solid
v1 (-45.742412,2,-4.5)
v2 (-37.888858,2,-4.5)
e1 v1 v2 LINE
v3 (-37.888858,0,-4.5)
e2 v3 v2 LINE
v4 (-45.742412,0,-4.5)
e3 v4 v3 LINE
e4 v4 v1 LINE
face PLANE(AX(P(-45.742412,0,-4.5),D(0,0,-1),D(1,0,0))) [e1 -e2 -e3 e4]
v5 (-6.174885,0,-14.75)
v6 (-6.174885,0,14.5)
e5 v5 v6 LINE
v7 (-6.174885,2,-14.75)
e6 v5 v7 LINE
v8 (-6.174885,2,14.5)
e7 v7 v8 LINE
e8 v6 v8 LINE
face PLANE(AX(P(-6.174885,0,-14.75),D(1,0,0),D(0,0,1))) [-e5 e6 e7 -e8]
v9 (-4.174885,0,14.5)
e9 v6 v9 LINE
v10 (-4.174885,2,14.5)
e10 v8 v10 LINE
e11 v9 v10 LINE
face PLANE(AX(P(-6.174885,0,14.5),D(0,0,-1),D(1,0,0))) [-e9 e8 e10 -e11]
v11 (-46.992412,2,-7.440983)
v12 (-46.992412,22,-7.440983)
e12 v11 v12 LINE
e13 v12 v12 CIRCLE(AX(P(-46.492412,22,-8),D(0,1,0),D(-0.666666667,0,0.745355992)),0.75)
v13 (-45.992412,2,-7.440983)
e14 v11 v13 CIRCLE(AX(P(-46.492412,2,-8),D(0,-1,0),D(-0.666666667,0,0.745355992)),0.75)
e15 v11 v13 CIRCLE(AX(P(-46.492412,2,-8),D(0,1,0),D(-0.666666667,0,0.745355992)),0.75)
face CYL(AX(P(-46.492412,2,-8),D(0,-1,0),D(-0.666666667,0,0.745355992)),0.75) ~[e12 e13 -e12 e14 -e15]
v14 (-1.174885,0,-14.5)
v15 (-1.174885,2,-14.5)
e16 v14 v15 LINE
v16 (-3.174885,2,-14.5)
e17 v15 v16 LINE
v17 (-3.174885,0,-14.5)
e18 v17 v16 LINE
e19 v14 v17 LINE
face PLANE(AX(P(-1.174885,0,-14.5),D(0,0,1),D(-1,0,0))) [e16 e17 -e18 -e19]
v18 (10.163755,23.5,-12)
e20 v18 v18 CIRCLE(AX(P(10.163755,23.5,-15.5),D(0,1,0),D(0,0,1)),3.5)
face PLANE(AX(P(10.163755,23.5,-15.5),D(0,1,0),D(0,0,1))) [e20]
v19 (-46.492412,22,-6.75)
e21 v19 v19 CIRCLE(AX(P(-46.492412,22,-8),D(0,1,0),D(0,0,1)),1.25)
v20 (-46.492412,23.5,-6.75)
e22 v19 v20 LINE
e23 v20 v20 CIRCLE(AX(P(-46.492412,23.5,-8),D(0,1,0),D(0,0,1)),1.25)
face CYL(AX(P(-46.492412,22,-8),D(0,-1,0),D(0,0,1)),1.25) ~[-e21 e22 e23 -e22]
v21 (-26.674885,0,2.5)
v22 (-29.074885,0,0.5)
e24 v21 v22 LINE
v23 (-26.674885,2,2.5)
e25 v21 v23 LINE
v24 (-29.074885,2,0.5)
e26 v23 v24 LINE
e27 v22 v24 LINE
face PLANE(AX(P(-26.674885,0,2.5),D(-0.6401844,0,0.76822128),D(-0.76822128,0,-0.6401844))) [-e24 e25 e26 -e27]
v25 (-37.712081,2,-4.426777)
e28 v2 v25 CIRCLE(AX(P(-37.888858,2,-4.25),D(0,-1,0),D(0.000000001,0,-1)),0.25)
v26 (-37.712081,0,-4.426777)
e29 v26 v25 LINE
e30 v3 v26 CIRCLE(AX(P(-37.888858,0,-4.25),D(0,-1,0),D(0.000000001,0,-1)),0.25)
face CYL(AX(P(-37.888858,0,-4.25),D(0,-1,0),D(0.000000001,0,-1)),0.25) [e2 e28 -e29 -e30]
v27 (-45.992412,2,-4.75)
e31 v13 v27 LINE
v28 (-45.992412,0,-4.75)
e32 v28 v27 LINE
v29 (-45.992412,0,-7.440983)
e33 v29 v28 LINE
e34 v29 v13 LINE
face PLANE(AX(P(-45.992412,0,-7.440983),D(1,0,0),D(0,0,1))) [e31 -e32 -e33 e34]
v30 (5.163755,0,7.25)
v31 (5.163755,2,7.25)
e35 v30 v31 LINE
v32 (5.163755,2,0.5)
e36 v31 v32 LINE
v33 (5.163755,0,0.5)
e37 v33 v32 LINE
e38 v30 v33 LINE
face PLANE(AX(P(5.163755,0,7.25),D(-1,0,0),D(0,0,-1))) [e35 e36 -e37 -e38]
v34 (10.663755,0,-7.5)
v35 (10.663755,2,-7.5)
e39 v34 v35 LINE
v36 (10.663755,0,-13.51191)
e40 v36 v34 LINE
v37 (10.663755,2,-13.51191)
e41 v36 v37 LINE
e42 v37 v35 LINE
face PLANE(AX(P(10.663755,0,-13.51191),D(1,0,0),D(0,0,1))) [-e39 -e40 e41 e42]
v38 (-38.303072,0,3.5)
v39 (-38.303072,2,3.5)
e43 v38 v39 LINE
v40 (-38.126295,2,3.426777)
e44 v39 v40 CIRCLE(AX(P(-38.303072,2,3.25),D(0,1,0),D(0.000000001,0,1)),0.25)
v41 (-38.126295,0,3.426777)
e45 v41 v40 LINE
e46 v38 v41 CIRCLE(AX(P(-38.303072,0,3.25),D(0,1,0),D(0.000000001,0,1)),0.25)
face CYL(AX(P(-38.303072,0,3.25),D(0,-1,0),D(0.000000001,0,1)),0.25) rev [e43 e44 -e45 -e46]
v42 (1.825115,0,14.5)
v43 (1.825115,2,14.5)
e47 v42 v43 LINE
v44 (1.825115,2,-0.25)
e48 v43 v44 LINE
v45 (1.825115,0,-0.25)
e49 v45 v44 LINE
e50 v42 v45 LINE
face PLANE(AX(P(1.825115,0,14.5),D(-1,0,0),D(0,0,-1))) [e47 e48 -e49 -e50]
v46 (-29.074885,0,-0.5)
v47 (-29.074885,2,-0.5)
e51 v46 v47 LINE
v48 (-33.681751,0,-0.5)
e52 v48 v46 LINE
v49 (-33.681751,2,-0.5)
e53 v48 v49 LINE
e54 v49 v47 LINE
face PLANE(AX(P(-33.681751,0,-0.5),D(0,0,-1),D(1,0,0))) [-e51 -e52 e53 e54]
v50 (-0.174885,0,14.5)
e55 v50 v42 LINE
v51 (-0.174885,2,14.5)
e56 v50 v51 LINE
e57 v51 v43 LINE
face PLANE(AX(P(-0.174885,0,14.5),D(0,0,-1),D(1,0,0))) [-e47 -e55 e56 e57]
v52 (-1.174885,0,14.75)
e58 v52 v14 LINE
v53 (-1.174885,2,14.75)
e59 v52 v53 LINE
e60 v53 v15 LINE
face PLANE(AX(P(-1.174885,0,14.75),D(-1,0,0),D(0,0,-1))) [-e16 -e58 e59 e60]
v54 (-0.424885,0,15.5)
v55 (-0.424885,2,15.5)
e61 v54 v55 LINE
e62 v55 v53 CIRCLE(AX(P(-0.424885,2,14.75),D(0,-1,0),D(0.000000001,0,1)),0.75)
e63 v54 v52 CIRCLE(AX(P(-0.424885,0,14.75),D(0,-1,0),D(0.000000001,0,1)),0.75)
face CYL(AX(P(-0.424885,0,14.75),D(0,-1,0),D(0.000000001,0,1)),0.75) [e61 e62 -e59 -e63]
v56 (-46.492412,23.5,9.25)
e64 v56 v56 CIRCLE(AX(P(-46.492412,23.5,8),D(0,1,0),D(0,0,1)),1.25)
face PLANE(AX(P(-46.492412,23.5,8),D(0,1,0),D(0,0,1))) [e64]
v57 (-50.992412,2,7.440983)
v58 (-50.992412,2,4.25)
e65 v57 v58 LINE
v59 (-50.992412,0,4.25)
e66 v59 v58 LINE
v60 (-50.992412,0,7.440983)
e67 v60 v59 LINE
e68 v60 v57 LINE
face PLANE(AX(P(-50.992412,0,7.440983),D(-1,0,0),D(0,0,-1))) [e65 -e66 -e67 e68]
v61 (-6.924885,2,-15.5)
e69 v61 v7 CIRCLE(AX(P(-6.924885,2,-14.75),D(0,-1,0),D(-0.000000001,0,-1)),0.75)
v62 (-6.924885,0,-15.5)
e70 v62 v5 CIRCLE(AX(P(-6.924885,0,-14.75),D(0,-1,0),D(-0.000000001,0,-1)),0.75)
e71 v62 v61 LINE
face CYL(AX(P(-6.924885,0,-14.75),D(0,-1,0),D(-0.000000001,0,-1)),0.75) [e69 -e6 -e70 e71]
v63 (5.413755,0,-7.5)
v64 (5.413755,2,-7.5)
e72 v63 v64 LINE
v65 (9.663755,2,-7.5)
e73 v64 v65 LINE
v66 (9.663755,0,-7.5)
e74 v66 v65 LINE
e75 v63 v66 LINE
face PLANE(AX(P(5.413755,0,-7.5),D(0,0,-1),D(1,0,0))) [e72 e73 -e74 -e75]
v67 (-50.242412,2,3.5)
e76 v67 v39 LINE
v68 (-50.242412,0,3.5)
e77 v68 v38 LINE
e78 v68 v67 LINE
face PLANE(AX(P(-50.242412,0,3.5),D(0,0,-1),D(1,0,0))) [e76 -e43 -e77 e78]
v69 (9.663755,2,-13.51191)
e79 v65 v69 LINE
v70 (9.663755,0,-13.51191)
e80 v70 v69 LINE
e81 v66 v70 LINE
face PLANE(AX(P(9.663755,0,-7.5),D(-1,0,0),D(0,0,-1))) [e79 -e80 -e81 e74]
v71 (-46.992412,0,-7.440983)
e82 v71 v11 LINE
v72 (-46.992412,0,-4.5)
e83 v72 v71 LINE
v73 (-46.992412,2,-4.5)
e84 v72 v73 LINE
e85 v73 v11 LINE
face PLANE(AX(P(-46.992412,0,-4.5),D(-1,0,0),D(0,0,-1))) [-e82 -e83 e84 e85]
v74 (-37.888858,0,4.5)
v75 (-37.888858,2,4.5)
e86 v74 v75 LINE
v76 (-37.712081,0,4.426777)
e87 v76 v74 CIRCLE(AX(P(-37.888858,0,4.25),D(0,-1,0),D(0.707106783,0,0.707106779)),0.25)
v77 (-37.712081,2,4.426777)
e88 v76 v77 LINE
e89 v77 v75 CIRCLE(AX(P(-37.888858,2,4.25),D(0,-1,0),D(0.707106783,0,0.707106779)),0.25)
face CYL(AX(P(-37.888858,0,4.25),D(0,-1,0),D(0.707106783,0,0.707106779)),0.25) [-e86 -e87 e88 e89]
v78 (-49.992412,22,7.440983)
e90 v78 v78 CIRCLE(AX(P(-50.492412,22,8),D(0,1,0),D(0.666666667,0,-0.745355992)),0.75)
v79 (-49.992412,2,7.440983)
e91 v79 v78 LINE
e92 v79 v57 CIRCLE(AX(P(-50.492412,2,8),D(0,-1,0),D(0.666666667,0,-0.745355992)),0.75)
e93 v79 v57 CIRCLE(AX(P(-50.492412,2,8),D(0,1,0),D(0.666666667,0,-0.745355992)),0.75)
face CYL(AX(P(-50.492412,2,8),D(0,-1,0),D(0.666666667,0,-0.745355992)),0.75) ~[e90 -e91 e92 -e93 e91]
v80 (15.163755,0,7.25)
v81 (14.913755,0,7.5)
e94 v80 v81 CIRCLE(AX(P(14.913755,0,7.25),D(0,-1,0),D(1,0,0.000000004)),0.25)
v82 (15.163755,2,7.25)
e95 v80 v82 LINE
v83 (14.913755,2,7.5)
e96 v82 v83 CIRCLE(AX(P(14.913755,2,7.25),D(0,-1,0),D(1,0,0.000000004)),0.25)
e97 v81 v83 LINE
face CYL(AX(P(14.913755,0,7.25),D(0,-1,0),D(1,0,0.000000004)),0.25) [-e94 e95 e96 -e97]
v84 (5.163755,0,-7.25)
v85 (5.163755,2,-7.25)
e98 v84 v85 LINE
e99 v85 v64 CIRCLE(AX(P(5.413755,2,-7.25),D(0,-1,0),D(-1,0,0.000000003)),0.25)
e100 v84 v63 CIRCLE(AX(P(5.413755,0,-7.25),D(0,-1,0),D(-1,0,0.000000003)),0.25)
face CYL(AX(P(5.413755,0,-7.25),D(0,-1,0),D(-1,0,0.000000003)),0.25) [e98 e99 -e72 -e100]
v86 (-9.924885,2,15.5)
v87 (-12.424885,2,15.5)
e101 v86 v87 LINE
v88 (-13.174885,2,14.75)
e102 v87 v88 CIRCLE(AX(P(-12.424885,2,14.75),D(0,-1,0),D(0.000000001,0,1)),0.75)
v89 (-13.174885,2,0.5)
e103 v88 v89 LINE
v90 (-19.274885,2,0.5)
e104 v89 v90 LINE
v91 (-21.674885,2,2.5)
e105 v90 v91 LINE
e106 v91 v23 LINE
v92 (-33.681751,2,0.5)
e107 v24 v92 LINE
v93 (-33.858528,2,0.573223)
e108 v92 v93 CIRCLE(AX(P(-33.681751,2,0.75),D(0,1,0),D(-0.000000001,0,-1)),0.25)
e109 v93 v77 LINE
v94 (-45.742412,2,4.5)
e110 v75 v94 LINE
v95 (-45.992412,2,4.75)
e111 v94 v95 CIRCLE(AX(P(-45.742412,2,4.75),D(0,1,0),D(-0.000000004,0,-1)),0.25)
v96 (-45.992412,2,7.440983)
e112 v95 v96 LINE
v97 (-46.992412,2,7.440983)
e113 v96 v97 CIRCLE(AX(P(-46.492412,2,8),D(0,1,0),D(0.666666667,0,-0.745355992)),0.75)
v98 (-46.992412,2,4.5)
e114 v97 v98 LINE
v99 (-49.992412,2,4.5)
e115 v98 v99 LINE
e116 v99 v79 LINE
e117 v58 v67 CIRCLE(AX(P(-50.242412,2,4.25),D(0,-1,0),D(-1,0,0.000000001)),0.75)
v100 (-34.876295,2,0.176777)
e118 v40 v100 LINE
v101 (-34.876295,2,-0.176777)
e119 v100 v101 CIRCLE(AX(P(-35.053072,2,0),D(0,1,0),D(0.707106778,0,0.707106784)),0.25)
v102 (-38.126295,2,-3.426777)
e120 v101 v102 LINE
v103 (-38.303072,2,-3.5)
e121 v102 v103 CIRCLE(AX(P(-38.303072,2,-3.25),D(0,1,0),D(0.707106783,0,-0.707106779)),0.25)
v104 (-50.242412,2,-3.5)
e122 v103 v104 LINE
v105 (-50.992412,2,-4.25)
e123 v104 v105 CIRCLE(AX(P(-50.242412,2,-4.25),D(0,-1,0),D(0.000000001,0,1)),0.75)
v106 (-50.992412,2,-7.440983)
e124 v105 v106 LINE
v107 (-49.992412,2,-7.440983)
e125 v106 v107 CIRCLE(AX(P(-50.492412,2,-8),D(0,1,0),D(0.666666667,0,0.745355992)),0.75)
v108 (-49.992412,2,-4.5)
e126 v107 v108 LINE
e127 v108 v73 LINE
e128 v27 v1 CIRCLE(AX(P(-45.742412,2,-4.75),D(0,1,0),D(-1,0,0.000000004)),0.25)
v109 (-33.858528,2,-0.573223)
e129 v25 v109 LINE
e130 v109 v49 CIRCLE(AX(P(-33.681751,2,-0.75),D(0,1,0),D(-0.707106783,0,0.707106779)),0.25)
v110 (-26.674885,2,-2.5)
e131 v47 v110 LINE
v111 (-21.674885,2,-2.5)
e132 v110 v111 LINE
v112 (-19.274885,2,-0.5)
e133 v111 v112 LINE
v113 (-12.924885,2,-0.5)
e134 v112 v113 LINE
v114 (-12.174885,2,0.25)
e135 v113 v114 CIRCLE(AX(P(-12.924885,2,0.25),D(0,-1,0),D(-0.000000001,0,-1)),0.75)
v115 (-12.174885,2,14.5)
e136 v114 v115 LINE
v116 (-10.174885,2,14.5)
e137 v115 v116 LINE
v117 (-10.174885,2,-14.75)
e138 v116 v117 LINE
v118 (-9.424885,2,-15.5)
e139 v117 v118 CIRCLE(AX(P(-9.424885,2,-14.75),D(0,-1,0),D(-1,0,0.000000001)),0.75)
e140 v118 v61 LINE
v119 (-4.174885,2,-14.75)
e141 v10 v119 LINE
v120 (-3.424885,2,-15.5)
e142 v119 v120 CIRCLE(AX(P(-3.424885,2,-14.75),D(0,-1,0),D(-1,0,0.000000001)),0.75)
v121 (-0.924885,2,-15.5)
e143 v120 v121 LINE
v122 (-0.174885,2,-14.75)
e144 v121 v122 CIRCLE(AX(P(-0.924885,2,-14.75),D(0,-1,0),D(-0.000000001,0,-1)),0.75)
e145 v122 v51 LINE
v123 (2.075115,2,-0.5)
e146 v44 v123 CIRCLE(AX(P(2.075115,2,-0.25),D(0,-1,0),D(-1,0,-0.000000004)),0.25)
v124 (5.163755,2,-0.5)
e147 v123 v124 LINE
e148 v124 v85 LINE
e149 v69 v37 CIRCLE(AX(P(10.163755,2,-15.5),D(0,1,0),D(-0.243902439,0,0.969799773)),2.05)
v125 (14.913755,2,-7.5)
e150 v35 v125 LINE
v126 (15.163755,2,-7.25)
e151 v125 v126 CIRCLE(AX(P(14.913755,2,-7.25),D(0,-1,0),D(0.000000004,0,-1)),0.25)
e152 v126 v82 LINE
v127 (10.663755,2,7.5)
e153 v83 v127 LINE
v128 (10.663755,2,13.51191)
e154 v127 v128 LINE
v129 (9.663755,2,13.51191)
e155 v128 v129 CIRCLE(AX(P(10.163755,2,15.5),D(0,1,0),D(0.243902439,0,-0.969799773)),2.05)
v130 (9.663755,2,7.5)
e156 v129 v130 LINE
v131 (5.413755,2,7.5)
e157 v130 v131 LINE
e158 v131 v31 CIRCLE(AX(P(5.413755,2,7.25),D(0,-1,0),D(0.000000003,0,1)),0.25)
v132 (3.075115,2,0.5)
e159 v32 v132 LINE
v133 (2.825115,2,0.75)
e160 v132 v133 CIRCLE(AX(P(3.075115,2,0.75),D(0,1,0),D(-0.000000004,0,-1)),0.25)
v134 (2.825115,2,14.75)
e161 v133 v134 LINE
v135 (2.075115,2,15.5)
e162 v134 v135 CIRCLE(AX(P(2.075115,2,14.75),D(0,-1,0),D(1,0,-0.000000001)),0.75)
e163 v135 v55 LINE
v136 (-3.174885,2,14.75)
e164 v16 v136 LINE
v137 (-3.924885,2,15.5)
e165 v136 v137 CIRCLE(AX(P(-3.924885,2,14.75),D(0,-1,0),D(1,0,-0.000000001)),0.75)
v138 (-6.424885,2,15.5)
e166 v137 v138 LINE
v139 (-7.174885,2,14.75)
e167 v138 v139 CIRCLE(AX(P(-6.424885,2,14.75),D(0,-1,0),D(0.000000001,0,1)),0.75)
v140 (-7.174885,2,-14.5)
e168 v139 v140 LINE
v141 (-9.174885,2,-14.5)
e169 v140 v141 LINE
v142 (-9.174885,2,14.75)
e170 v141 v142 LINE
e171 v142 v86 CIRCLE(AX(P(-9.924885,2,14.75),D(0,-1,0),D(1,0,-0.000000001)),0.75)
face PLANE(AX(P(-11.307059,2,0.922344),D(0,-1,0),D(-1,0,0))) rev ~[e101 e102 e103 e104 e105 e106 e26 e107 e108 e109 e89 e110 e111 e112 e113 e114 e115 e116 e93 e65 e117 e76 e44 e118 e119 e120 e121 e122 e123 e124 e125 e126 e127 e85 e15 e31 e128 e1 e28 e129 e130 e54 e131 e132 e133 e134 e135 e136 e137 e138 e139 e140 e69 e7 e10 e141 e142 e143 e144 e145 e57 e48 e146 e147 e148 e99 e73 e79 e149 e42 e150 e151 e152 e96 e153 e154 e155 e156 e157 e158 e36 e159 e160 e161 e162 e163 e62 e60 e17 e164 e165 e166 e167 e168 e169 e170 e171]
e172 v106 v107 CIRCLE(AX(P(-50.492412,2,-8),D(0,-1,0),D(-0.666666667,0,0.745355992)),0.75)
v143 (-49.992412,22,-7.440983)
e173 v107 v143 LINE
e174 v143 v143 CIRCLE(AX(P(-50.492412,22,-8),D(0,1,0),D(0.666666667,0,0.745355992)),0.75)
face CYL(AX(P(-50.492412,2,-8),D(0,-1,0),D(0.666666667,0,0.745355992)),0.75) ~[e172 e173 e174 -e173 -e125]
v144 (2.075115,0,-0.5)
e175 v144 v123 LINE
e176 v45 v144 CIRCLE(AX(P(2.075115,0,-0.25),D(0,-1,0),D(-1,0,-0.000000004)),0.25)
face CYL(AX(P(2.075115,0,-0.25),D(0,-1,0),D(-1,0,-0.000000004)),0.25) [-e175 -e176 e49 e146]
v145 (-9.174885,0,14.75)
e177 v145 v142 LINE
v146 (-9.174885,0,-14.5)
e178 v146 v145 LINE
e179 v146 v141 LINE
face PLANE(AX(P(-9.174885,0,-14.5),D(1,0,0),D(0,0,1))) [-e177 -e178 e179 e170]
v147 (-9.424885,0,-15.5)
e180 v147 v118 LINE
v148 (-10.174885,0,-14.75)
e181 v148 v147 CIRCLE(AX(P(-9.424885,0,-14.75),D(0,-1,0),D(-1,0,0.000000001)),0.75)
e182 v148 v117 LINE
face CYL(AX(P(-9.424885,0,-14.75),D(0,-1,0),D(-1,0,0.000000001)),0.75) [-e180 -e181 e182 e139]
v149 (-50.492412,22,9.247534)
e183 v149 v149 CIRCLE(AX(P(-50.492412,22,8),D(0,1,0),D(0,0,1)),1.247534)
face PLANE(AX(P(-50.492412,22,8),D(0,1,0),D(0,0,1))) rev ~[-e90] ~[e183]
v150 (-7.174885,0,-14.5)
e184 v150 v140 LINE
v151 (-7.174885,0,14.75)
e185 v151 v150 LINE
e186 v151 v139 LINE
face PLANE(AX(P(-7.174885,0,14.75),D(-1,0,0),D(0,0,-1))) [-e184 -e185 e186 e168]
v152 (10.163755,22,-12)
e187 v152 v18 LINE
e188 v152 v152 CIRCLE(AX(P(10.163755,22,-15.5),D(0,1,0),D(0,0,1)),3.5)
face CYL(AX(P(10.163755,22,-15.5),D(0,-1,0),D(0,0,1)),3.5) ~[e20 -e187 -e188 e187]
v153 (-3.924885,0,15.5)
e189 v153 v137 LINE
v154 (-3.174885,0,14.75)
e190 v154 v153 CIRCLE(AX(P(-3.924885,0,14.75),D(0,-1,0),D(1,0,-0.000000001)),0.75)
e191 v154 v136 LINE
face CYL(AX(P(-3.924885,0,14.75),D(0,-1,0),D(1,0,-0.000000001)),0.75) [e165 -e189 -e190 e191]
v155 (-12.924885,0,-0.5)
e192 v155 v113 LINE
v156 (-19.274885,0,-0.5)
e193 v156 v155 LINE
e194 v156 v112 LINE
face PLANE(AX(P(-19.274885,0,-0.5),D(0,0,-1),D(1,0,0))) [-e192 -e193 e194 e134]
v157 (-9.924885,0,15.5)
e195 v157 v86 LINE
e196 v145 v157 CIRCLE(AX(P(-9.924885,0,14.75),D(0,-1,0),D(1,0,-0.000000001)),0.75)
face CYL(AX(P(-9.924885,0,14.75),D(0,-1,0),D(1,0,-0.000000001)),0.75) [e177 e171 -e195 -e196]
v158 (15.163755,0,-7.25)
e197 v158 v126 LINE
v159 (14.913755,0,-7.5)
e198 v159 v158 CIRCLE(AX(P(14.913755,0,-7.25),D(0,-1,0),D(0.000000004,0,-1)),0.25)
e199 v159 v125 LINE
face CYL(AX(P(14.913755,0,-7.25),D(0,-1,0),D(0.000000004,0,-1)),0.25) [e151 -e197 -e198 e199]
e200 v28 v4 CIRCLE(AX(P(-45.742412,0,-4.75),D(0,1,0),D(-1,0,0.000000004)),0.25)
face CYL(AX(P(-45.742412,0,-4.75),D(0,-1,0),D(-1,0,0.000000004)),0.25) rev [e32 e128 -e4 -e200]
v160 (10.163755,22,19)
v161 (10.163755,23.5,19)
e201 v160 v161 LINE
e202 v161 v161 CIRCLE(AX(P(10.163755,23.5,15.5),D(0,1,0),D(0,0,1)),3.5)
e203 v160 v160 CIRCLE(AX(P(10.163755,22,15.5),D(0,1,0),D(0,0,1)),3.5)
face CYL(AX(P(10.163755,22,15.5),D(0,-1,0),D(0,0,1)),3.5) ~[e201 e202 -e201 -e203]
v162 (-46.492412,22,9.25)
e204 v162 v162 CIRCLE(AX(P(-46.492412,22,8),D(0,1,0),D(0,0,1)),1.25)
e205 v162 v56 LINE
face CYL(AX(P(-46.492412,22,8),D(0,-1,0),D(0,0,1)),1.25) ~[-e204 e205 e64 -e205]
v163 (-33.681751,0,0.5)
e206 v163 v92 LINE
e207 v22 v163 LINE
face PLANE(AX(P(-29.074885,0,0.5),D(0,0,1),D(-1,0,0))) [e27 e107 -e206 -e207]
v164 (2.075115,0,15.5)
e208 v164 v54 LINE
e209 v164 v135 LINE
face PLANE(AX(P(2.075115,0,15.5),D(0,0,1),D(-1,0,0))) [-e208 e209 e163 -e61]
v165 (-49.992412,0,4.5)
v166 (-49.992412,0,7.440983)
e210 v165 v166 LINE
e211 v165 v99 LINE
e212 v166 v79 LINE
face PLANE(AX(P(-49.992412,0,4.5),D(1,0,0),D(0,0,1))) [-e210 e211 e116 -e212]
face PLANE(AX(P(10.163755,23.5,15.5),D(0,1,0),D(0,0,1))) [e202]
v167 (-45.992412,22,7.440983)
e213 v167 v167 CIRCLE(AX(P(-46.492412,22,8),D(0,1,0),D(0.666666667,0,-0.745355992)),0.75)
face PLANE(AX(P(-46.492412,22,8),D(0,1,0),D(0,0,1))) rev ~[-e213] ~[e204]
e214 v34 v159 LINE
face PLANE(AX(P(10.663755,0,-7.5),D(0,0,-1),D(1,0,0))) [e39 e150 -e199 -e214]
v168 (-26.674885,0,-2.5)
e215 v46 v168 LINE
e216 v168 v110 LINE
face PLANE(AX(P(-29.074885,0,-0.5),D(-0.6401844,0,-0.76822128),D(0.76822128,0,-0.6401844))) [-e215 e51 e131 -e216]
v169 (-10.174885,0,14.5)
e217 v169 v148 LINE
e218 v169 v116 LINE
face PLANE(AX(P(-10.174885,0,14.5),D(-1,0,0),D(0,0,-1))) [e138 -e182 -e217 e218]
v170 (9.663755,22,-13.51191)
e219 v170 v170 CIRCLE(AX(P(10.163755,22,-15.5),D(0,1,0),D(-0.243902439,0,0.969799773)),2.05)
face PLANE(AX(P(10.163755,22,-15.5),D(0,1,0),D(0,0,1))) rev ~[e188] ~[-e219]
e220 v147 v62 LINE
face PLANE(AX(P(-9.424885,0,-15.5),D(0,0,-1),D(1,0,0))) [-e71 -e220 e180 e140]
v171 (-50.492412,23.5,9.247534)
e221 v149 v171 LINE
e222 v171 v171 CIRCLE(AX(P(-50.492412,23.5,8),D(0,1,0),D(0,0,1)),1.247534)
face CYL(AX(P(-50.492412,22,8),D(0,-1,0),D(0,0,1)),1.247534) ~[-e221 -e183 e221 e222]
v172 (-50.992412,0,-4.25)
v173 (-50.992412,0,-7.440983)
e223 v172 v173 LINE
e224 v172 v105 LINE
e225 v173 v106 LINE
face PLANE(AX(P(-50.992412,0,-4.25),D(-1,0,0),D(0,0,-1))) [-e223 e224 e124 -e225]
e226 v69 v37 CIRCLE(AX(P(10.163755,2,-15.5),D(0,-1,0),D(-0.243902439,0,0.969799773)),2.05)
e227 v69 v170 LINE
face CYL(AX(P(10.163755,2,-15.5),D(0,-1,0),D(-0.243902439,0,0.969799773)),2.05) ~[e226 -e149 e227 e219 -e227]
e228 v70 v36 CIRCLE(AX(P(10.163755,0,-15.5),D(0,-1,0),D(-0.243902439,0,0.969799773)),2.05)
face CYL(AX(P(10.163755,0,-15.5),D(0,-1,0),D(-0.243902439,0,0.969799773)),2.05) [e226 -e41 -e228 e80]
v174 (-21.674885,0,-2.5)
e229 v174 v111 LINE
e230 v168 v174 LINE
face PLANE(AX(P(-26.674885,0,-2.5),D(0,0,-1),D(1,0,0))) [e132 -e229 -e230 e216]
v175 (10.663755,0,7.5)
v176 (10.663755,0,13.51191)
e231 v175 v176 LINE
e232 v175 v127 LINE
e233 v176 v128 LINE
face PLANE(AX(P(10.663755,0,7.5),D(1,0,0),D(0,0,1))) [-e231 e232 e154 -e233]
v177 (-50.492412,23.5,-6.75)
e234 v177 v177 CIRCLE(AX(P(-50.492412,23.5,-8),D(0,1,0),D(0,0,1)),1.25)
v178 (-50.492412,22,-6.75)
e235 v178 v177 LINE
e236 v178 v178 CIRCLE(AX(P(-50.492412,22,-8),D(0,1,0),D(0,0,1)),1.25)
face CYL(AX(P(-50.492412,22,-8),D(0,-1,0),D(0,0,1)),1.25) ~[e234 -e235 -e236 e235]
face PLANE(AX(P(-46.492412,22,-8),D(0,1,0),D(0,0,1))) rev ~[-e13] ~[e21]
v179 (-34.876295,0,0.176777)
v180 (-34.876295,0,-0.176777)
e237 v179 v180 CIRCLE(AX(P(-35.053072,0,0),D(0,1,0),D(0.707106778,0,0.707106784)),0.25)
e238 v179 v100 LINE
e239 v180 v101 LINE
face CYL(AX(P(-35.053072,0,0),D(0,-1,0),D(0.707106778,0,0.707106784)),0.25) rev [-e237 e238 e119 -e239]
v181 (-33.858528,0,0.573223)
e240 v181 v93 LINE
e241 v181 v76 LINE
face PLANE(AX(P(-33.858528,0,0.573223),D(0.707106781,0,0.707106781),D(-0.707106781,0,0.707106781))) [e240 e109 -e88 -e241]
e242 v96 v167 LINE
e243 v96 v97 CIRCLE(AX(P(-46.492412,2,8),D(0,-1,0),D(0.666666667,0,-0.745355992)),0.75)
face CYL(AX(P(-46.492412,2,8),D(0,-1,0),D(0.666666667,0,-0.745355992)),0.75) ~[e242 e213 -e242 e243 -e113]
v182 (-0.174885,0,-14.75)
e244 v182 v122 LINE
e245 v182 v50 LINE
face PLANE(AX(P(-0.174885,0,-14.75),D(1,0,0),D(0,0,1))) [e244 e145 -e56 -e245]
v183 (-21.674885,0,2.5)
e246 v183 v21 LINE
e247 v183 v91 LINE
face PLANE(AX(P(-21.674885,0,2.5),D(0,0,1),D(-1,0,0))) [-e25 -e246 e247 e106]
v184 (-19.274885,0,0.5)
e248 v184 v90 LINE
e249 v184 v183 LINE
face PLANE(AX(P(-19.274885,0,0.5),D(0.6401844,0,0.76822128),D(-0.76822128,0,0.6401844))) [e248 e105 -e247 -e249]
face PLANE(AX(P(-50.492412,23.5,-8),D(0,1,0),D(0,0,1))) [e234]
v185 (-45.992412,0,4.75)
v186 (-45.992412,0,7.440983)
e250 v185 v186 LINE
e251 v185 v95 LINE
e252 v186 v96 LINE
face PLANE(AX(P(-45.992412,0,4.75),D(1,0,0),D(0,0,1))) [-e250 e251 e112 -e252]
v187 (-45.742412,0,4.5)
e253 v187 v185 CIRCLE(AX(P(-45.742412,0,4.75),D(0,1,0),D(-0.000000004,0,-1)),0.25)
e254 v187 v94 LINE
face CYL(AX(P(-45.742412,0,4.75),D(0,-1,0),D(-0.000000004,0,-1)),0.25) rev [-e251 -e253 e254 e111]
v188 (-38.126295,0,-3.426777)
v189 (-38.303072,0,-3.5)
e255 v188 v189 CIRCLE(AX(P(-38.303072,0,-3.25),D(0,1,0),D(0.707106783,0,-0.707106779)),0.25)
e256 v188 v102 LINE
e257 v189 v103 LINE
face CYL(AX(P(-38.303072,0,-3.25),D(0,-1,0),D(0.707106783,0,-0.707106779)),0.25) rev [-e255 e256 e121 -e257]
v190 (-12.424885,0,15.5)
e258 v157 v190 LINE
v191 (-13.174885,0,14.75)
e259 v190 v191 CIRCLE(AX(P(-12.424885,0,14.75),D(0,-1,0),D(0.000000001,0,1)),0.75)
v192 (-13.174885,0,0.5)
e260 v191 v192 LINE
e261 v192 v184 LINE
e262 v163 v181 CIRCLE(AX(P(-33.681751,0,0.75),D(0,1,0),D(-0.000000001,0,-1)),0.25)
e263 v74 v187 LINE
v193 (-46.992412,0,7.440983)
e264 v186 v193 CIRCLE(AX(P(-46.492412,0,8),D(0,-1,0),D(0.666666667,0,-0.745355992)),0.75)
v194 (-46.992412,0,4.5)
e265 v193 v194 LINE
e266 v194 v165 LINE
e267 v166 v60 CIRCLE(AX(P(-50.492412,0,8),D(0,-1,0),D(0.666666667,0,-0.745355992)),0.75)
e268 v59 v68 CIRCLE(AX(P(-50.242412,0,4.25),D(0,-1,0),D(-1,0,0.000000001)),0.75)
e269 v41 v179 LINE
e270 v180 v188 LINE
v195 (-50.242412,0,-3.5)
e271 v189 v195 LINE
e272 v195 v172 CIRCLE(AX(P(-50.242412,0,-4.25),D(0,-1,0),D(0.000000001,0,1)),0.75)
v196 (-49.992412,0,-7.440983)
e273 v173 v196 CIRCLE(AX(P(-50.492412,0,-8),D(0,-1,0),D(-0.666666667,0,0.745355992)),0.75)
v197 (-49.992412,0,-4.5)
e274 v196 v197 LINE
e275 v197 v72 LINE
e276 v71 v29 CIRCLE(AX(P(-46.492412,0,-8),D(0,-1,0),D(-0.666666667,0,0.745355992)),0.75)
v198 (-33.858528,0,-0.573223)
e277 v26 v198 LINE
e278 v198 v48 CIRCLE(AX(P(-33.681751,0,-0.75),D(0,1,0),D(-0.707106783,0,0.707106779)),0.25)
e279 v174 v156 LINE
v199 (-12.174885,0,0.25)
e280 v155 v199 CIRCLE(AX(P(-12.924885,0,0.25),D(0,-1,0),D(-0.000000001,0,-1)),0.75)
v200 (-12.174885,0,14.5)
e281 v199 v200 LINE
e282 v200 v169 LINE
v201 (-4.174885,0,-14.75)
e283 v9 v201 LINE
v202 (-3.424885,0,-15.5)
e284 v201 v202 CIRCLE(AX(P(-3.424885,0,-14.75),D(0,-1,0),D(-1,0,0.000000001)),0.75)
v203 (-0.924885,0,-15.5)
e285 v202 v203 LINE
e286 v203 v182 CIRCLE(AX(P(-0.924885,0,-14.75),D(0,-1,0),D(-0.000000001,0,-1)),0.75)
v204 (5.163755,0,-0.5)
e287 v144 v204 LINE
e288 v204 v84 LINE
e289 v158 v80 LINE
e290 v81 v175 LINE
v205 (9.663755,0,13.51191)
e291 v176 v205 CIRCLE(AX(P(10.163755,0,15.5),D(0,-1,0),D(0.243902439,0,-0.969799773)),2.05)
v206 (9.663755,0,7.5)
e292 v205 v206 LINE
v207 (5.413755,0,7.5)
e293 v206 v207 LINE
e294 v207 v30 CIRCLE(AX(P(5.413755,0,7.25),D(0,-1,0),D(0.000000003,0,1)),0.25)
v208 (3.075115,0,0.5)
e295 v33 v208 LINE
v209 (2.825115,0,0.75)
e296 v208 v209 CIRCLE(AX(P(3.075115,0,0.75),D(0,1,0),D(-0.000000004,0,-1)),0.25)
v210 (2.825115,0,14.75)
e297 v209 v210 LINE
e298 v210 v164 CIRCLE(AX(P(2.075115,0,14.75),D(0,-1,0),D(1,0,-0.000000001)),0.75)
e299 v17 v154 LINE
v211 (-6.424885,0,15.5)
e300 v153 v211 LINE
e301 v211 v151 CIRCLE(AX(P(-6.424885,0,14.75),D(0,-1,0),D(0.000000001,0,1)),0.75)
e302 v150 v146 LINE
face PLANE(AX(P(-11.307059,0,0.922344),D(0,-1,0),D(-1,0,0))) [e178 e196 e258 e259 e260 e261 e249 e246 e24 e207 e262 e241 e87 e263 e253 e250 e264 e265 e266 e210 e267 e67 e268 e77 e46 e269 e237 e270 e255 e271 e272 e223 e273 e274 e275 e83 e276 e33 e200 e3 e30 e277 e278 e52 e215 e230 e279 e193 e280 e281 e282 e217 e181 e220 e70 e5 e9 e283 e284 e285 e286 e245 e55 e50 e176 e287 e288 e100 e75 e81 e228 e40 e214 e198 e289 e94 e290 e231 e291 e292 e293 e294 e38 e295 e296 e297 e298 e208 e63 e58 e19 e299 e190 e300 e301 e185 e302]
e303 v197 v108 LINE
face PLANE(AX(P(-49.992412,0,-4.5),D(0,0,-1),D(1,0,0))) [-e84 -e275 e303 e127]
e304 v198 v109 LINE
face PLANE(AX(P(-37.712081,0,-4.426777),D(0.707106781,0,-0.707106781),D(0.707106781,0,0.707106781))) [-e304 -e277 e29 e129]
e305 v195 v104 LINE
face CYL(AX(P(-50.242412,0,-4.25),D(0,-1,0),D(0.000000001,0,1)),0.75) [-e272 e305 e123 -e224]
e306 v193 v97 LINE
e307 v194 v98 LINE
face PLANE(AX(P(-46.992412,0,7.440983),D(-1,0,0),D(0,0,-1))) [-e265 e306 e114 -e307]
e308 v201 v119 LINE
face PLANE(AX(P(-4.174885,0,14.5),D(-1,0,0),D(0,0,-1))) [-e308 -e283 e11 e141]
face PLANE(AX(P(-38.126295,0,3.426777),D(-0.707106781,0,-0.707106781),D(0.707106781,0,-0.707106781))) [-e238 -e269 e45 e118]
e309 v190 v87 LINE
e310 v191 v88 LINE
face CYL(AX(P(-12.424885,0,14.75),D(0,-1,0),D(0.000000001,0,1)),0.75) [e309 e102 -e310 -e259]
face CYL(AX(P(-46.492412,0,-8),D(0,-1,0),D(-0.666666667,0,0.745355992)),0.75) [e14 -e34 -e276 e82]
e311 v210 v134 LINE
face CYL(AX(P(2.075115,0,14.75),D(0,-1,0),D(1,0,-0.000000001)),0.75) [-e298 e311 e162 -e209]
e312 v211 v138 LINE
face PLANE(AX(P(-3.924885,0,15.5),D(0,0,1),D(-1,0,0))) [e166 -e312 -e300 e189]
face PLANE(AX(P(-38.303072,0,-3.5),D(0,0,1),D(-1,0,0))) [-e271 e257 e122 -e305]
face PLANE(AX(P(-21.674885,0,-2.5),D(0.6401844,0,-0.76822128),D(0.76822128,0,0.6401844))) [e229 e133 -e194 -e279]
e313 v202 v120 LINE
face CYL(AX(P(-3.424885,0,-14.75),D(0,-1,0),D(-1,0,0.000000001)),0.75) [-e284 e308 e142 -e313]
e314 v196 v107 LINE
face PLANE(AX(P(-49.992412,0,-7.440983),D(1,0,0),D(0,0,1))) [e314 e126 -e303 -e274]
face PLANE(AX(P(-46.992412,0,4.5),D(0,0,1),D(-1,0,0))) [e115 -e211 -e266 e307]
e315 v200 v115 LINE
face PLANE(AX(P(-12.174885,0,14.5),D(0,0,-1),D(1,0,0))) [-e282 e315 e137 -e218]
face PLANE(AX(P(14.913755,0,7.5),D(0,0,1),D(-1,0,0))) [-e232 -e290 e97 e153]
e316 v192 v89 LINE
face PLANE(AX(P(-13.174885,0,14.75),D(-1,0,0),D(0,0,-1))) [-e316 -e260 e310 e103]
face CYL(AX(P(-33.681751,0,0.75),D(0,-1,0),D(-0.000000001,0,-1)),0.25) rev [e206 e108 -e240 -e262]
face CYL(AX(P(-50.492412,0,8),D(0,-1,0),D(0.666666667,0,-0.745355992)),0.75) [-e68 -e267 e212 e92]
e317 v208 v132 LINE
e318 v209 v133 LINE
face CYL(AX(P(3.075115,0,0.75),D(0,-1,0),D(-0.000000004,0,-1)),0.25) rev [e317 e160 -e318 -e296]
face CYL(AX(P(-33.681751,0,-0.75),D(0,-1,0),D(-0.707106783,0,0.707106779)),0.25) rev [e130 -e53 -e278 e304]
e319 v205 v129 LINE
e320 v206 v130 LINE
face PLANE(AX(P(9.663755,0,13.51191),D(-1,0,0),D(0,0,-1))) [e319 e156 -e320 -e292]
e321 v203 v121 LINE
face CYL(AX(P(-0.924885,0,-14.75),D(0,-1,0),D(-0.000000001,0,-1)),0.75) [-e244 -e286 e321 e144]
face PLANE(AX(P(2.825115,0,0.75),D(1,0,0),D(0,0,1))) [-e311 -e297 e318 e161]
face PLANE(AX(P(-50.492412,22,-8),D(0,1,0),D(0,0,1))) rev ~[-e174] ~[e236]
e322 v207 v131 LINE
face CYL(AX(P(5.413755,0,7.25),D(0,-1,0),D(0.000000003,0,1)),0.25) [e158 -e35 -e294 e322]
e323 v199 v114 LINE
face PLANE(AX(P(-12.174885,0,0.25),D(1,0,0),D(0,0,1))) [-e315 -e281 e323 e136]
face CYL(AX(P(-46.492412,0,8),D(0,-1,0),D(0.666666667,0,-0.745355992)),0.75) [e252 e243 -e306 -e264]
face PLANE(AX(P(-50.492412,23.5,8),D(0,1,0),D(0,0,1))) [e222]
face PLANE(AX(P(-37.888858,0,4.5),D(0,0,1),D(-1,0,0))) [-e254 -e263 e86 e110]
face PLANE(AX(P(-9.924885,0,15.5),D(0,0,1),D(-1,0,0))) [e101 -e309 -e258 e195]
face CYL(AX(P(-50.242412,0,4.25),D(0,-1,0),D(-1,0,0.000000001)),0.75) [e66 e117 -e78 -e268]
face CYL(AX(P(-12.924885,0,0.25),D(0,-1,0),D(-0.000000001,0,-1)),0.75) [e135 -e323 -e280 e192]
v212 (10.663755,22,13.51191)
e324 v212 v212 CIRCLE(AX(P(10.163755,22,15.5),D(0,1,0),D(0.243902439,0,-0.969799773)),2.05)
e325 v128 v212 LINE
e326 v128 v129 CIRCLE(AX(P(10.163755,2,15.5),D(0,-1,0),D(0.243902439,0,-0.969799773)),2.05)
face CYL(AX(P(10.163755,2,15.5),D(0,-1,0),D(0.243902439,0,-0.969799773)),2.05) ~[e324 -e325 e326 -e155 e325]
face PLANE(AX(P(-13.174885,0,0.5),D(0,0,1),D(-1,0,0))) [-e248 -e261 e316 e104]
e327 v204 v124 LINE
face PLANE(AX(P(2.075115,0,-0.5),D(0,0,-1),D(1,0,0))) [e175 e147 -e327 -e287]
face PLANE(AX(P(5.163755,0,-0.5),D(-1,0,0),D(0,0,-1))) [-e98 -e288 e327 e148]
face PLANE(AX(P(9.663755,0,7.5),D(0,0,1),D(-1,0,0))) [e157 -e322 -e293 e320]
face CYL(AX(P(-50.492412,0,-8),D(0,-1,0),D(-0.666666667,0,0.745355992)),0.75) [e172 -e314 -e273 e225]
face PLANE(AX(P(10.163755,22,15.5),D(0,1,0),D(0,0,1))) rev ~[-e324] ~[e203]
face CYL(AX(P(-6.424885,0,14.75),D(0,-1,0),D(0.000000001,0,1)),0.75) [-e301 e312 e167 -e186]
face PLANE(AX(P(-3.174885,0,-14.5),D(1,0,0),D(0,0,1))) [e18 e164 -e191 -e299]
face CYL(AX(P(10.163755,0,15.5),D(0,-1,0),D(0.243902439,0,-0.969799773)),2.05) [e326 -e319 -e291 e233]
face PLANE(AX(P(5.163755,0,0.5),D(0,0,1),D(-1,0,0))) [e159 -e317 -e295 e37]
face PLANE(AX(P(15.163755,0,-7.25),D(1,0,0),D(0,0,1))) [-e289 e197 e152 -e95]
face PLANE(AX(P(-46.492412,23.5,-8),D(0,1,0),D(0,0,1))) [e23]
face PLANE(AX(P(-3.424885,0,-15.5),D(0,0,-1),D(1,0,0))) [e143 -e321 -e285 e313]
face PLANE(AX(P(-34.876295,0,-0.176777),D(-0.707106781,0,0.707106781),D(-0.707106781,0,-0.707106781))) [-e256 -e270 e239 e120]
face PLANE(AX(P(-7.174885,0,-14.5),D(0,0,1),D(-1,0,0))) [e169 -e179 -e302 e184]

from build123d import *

# Parameters (mm, degrees)
SKELTON_BASE_DEPTH = 2
SKETCH3_R          = 2.05
SKETCH3_R_2        = 0.75
SUPPORT_LEG_DEPTH  = 20
SKETCH5_R          = 3.5
SKETCH5_R_2        = 1.25
SKETCH5_R_3        = 1.247534176
SUPPORT_HEAD_DEPTH = 1.5


with BuildPart() as part:
    # skelton_drawing → Skelton_base (new body)
    with BuildSketch(Plane(origin=(0, 0, 0), x_dir=(1, 0, 0), z_dir=(0, 1, 0))):
        with BuildLine():
            Line((15.163755459, 7.25), (15.163755459, -7.25))
            ThreePointArc((15.163755459, -7.25), (15.090532154, -7.426776695), (14.913755459, -7.5))
            Line((14.913755459, -7.5), (10.663755459, -7.5))
            Line((10.663755459, -7.5), (10.663755459, -13.511910465))
            ThreePointArc((10.663755459, -13.511910465), (10.163755459, -17.55), (9.663755459, -13.511910465))
            Line((9.663755459, -13.511910465), (9.663755459, -7.5))
            Line((9.663755459, -7.5), (5.413755459, -7.5))
            ThreePointArc((5.413755459, -7.5), (5.236978763, -7.426776695), (5.163755459, -7.25))
            Line((5.163755459, -7.25), (5.163755459, -0.5))
            Line((5.163755459, -0.5), (3.075114856, -0.5))
            ThreePointArc((3.075114856, -0.5), (2.898338161, -0.573223305), (2.825114856, -0.75))
            Line((2.825114856, -0.75), (2.825114856, -14.75))
            ThreePointArc((2.825114856, -14.75), (2.605444942, -15.280330086), (2.075114856, -15.5))
            Line((2.075114856, -15.5), (-0.424885144, -15.5))
            ThreePointArc((-0.424885144, -15.5), (-0.95521523, -15.280330086), (-1.174885144, -14.75))
            Line((-1.174885144, -14.75), (-1.174885144, 14.5))
            Line((-1.174885144, 14.5), (-3.174885144, 14.5))
            Line((-3.174885144, 14.5), (-3.174885144, -14.75))
            ThreePointArc((-3.174885144, -14.75), (-3.394555058, -15.280330086), (-3.924885144, -15.5))
            Line((-3.924885144, -15.5), (-6.424885144, -15.5))
            ThreePointArc((-6.424885144, -15.5), (-6.95521523, -15.280330086), (-7.174885144, -14.75))
            Line((-7.174885144, -14.75), (-7.174885144, 14.5))
            Line((-7.174885144, 14.5), (-9.174885144, 14.5))
            Line((-9.174885144, 14.5), (-9.174885144, -14.75))
            ThreePointArc((-9.174885144, -14.75), (-9.394555058, -15.280330086), (-9.924885144, -15.5))
            Line((-9.924885144, -15.5), (-12.424885144, -15.5))
            ThreePointArc((-12.424885144, -15.5), (-12.95521523, -15.280330086), (-13.174885144, -14.75))
            Line((-13.174885144, -14.75), (-13.174885144, -0.5))
            Line((-13.174885144, -0.5), (-19.274885144, -0.5))
            Line((-19.274885144, -0.5), (-21.674885144, -2.5))
            Line((-21.674885144, -2.5), (-26.674885144, -2.5))
            Line((-26.674885144, -2.5), (-29.074885144, -0.5))
            Line((-29.074885144, -0.5), (-33.68175141, -0.5))
            ThreePointArc((-33.68175141, -0.5), (-33.777422268, -0.519030117), (-33.858528105, -0.573223305))
            Line((-33.858528105, -0.573223305), (-37.712081496, -4.426776695))
            ThreePointArc((-37.712081496, -4.426776695), (-37.793187333, -4.480969883), (-37.888858191, -4.5))
            Line((-37.888858191, -4.5), (-45.742411582, -4.5))
            ThreePointArc((-45.742411582, -4.5), (-45.919188277, -4.573223305), (-45.992411582, -4.75))
            Line((-45.992411582, -4.75), (-45.992411582, -7.440983006))
            ThreePointArc((-45.992411582, -7.440983006), (-46.492411582, -8.75), (-46.992411582, -7.440983006))
            Line((-46.992411582, -7.440983006), (-46.992411582, -4.5))
            Line((-46.992411582, -4.5), (-49.992411582, -4.5))
            Line((-49.992411582, -4.5), (-49.992411582, -7.440983006))
            ThreePointArc((-49.992411582, -7.440983006), (-50.492411582, -8.75), (-50.992411582, -7.440983006))
            Line((-50.992411582, -7.440983006), (-50.992411582, -4.25))
            ThreePointArc((-50.992411582, -4.25), (-50.772741668, -3.719669914), (-50.242411582, -3.5))
            Line((-50.242411582, -3.5), (-38.303071753, -3.5))
            ThreePointArc((-38.303071753, -3.5), (-38.207400895, -3.480969883), (-38.126295058, -3.426776695))
            Line((-38.126295058, -3.426776695), (-34.876295058, -0.176776695))
            ThreePointArc((-34.876295058, -0.176776695), (-34.803071753, 0), (-34.876295058, 0.176776695))
            Line((-34.876295058, 0.176776695), (-38.126295058, 3.426776695))
            ThreePointArc((-38.126295058, 3.426776695), (-38.207400895, 3.480969883), (-38.303071753, 3.5))
            Line((-38.303071753, 3.5), (-46.242411582, 3.5))
            Line((-46.242411582, 3.5), (-50.242411582, 3.5))
            ThreePointArc((-50.242411582, 3.5), (-50.772741668, 3.719669914), (-50.992411582, 4.25))
            Line((-50.992411582, 4.25), (-50.992411582, 7.440983006))
            ThreePointArc((-50.992411582, 7.440983006), (-50.492411582, 8.75), (-49.992411582, 7.440983006))
            Line((-49.992411582, 7.440983006), (-49.992411582, 4.5))
            Line((-49.992411582, 4.5), (-46.992411582, 4.5))
            Line((-46.992411582, 4.5), (-46.992411582, 7.440983006))
            ThreePointArc((-46.992411582, 7.440983006), (-46.492411582, 8.75), (-45.992411582, 7.440983006))
            Line((-45.992411582, 7.440983006), (-45.992411582, 4.75))
            ThreePointArc((-45.992411582, 4.75), (-45.919188277, 4.573223305), (-45.742411582, 4.5))
            Line((-45.742411582, 4.5), (-37.888858191, 4.5))
            ThreePointArc((-37.888858191, 4.5), (-37.793187333, 4.480969883), (-37.712081496, 4.426776695))
            Line((-37.712081496, 4.426776695), (-33.858528105, 0.573223305))
            ThreePointArc((-33.858528105, 0.573223305), (-33.777422268, 0.519030117), (-33.68175141, 0.5))
            Line((-33.68175141, 0.5), (-29.074885144, 0.5))
            Line((-29.074885144, 0.5), (-26.674885144, 2.5))
            Line((-26.674885144, 2.5), (-21.674885144, 2.5))
            Line((-21.674885144, 2.5), (-19.274885144, 0.5))
            Line((-19.274885144, 0.5), (-12.924885144, 0.5))
            ThreePointArc((-12.924885144, 0.5), (-12.394555058, 0.280330086), (-12.174885144, -0.25))
            Line((-12.174885144, -0.25), (-12.174885144, -14.5))
            Line((-12.174885144, -14.5), (-10.174885144, -14.5))
            Line((-10.174885144, -14.5), (-10.174885144, 14.75))
            ThreePointArc((-10.174885144, 14.75), (-9.95521523, 15.280330086), (-9.424885144, 15.5))
            Line((-9.424885144, 15.5), (-6.924885144, 15.5))
            ThreePointArc((-6.924885144, 15.5), (-6.394555058, 15.280330086), (-6.174885144, 14.75))
            Line((-6.174885144, 14.75), (-6.174885144, -14.5))
            Line((-6.174885144, -14.5), (-4.174885144, -14.5))
            Line((-4.174885144, -14.5), (-4.174885144, 14.75))
            ThreePointArc((-4.174885144, 14.75), (-3.95521523, 15.280330086), (-3.424885144, 15.5))
            Line((-3.424885144, 15.5), (-0.924885144, 15.5))
            ThreePointArc((-0.924885144, 15.5), (-0.394555058, 15.280330086), (-0.174885144, 14.75))
            Line((-0.174885144, 14.75), (-0.174885144, -14.5))
            Line((-0.174885144, -14.5), (1.825114856, -14.5))
            Line((1.825114856, -14.5), (1.825114856, 0.25))
            ThreePointArc((1.825114856, 0.25), (1.898338161, 0.426776695), (2.075114856, 0.5))
            Line((2.075114856, 0.5), (5.163755459, 0.5))
            Line((5.163755459, 0.5), (5.163755459, 7.25))
            ThreePointArc((5.163755459, 7.25), (5.236978763, 7.426776695), (5.413755459, 7.5))
            Line((5.413755459, 7.5), (9.663755459, 7.5))
            Line((9.663755459, 7.5), (9.663755459, 13.511910465))
            ThreePointArc((9.663755459, 13.511910465), (10.163755459, 17.55), (10.663755459, 13.511910465))
            Line((10.663755459, 13.511910465), (10.663755459, 7.5))
            Line((10.663755459, 7.5), (14.913755459, 7.5))
            ThreePointArc((14.913755459, 7.5), (15.090532154, 7.426776695), (15.163755459, 7.25))
        make_face()
    extrude(amount=SKELTON_BASE_DEPTH)

    # Sketch3 → Support_leg (add)
    with BuildSketch(Plane(origin=(0, 2, 0), x_dir=(1, 0, 0), z_dir=(0, 1, 0))):
        with Locations(Location((10.163755459, 15.5, 0), (0, 0, 255.883019429))):
            Circle(SKETCH3_R)
        with Locations(Location((10.163755459, -15.5, 0), (0, 0, 75.883019429))):
            Circle(SKETCH3_R)
        with Locations(Location((-46.492411582, 8, 0), (0, 0, 228.189685104))):
            Circle(SKETCH3_R_2)
        with Locations(Location((-50.492411582, 8, 0), (0, 0, 311.810314896))):
            Circle(SKETCH3_R_2)
        with Locations(Location((-46.492411582, -8, 0), (0, 0, 48.189685104))):
            Circle(SKETCH3_R_2)
        with Locations(Location((-50.492411582, -8, 0), (0, 0, 48.189685104))):
            Circle(SKETCH3_R_2)
    extrude(amount=SUPPORT_LEG_DEPTH)

    # Sketch5 → Support_head (add)
    with BuildSketch(Plane(origin=(0, 22, 0), x_dir=(1, 0, 0), z_dir=(0, 1, 0))):
        with Locations(Location((10.163755459, -15.5, 0), (0, 0, 270))):
            Circle(SKETCH5_R)
        with Locations(Location((10.163755459, 15.5, 0), (0, 0, 270))):
            Circle(SKETCH5_R)
        with Locations(Location((-46.492411582, 8, 0), (0, 0, 270))):
            Circle(SKETCH5_R_2)
        with Locations(Location((-50.492411582, 8, 0), (0, 0, 270))):
            Circle(SKETCH5_R_2)
        with Locations(Location((-46.492411582, -8, 0), (0, 0, 270))):
            Circle(SKETCH5_R_2)
        with Locations(Location((-50.492411582, -8, 0), (0, 0, 270))):
            Circle(SKETCH5_R_3)
    extrude(amount=SUPPORT_HEAD_DEPTH)


solid = part.part
